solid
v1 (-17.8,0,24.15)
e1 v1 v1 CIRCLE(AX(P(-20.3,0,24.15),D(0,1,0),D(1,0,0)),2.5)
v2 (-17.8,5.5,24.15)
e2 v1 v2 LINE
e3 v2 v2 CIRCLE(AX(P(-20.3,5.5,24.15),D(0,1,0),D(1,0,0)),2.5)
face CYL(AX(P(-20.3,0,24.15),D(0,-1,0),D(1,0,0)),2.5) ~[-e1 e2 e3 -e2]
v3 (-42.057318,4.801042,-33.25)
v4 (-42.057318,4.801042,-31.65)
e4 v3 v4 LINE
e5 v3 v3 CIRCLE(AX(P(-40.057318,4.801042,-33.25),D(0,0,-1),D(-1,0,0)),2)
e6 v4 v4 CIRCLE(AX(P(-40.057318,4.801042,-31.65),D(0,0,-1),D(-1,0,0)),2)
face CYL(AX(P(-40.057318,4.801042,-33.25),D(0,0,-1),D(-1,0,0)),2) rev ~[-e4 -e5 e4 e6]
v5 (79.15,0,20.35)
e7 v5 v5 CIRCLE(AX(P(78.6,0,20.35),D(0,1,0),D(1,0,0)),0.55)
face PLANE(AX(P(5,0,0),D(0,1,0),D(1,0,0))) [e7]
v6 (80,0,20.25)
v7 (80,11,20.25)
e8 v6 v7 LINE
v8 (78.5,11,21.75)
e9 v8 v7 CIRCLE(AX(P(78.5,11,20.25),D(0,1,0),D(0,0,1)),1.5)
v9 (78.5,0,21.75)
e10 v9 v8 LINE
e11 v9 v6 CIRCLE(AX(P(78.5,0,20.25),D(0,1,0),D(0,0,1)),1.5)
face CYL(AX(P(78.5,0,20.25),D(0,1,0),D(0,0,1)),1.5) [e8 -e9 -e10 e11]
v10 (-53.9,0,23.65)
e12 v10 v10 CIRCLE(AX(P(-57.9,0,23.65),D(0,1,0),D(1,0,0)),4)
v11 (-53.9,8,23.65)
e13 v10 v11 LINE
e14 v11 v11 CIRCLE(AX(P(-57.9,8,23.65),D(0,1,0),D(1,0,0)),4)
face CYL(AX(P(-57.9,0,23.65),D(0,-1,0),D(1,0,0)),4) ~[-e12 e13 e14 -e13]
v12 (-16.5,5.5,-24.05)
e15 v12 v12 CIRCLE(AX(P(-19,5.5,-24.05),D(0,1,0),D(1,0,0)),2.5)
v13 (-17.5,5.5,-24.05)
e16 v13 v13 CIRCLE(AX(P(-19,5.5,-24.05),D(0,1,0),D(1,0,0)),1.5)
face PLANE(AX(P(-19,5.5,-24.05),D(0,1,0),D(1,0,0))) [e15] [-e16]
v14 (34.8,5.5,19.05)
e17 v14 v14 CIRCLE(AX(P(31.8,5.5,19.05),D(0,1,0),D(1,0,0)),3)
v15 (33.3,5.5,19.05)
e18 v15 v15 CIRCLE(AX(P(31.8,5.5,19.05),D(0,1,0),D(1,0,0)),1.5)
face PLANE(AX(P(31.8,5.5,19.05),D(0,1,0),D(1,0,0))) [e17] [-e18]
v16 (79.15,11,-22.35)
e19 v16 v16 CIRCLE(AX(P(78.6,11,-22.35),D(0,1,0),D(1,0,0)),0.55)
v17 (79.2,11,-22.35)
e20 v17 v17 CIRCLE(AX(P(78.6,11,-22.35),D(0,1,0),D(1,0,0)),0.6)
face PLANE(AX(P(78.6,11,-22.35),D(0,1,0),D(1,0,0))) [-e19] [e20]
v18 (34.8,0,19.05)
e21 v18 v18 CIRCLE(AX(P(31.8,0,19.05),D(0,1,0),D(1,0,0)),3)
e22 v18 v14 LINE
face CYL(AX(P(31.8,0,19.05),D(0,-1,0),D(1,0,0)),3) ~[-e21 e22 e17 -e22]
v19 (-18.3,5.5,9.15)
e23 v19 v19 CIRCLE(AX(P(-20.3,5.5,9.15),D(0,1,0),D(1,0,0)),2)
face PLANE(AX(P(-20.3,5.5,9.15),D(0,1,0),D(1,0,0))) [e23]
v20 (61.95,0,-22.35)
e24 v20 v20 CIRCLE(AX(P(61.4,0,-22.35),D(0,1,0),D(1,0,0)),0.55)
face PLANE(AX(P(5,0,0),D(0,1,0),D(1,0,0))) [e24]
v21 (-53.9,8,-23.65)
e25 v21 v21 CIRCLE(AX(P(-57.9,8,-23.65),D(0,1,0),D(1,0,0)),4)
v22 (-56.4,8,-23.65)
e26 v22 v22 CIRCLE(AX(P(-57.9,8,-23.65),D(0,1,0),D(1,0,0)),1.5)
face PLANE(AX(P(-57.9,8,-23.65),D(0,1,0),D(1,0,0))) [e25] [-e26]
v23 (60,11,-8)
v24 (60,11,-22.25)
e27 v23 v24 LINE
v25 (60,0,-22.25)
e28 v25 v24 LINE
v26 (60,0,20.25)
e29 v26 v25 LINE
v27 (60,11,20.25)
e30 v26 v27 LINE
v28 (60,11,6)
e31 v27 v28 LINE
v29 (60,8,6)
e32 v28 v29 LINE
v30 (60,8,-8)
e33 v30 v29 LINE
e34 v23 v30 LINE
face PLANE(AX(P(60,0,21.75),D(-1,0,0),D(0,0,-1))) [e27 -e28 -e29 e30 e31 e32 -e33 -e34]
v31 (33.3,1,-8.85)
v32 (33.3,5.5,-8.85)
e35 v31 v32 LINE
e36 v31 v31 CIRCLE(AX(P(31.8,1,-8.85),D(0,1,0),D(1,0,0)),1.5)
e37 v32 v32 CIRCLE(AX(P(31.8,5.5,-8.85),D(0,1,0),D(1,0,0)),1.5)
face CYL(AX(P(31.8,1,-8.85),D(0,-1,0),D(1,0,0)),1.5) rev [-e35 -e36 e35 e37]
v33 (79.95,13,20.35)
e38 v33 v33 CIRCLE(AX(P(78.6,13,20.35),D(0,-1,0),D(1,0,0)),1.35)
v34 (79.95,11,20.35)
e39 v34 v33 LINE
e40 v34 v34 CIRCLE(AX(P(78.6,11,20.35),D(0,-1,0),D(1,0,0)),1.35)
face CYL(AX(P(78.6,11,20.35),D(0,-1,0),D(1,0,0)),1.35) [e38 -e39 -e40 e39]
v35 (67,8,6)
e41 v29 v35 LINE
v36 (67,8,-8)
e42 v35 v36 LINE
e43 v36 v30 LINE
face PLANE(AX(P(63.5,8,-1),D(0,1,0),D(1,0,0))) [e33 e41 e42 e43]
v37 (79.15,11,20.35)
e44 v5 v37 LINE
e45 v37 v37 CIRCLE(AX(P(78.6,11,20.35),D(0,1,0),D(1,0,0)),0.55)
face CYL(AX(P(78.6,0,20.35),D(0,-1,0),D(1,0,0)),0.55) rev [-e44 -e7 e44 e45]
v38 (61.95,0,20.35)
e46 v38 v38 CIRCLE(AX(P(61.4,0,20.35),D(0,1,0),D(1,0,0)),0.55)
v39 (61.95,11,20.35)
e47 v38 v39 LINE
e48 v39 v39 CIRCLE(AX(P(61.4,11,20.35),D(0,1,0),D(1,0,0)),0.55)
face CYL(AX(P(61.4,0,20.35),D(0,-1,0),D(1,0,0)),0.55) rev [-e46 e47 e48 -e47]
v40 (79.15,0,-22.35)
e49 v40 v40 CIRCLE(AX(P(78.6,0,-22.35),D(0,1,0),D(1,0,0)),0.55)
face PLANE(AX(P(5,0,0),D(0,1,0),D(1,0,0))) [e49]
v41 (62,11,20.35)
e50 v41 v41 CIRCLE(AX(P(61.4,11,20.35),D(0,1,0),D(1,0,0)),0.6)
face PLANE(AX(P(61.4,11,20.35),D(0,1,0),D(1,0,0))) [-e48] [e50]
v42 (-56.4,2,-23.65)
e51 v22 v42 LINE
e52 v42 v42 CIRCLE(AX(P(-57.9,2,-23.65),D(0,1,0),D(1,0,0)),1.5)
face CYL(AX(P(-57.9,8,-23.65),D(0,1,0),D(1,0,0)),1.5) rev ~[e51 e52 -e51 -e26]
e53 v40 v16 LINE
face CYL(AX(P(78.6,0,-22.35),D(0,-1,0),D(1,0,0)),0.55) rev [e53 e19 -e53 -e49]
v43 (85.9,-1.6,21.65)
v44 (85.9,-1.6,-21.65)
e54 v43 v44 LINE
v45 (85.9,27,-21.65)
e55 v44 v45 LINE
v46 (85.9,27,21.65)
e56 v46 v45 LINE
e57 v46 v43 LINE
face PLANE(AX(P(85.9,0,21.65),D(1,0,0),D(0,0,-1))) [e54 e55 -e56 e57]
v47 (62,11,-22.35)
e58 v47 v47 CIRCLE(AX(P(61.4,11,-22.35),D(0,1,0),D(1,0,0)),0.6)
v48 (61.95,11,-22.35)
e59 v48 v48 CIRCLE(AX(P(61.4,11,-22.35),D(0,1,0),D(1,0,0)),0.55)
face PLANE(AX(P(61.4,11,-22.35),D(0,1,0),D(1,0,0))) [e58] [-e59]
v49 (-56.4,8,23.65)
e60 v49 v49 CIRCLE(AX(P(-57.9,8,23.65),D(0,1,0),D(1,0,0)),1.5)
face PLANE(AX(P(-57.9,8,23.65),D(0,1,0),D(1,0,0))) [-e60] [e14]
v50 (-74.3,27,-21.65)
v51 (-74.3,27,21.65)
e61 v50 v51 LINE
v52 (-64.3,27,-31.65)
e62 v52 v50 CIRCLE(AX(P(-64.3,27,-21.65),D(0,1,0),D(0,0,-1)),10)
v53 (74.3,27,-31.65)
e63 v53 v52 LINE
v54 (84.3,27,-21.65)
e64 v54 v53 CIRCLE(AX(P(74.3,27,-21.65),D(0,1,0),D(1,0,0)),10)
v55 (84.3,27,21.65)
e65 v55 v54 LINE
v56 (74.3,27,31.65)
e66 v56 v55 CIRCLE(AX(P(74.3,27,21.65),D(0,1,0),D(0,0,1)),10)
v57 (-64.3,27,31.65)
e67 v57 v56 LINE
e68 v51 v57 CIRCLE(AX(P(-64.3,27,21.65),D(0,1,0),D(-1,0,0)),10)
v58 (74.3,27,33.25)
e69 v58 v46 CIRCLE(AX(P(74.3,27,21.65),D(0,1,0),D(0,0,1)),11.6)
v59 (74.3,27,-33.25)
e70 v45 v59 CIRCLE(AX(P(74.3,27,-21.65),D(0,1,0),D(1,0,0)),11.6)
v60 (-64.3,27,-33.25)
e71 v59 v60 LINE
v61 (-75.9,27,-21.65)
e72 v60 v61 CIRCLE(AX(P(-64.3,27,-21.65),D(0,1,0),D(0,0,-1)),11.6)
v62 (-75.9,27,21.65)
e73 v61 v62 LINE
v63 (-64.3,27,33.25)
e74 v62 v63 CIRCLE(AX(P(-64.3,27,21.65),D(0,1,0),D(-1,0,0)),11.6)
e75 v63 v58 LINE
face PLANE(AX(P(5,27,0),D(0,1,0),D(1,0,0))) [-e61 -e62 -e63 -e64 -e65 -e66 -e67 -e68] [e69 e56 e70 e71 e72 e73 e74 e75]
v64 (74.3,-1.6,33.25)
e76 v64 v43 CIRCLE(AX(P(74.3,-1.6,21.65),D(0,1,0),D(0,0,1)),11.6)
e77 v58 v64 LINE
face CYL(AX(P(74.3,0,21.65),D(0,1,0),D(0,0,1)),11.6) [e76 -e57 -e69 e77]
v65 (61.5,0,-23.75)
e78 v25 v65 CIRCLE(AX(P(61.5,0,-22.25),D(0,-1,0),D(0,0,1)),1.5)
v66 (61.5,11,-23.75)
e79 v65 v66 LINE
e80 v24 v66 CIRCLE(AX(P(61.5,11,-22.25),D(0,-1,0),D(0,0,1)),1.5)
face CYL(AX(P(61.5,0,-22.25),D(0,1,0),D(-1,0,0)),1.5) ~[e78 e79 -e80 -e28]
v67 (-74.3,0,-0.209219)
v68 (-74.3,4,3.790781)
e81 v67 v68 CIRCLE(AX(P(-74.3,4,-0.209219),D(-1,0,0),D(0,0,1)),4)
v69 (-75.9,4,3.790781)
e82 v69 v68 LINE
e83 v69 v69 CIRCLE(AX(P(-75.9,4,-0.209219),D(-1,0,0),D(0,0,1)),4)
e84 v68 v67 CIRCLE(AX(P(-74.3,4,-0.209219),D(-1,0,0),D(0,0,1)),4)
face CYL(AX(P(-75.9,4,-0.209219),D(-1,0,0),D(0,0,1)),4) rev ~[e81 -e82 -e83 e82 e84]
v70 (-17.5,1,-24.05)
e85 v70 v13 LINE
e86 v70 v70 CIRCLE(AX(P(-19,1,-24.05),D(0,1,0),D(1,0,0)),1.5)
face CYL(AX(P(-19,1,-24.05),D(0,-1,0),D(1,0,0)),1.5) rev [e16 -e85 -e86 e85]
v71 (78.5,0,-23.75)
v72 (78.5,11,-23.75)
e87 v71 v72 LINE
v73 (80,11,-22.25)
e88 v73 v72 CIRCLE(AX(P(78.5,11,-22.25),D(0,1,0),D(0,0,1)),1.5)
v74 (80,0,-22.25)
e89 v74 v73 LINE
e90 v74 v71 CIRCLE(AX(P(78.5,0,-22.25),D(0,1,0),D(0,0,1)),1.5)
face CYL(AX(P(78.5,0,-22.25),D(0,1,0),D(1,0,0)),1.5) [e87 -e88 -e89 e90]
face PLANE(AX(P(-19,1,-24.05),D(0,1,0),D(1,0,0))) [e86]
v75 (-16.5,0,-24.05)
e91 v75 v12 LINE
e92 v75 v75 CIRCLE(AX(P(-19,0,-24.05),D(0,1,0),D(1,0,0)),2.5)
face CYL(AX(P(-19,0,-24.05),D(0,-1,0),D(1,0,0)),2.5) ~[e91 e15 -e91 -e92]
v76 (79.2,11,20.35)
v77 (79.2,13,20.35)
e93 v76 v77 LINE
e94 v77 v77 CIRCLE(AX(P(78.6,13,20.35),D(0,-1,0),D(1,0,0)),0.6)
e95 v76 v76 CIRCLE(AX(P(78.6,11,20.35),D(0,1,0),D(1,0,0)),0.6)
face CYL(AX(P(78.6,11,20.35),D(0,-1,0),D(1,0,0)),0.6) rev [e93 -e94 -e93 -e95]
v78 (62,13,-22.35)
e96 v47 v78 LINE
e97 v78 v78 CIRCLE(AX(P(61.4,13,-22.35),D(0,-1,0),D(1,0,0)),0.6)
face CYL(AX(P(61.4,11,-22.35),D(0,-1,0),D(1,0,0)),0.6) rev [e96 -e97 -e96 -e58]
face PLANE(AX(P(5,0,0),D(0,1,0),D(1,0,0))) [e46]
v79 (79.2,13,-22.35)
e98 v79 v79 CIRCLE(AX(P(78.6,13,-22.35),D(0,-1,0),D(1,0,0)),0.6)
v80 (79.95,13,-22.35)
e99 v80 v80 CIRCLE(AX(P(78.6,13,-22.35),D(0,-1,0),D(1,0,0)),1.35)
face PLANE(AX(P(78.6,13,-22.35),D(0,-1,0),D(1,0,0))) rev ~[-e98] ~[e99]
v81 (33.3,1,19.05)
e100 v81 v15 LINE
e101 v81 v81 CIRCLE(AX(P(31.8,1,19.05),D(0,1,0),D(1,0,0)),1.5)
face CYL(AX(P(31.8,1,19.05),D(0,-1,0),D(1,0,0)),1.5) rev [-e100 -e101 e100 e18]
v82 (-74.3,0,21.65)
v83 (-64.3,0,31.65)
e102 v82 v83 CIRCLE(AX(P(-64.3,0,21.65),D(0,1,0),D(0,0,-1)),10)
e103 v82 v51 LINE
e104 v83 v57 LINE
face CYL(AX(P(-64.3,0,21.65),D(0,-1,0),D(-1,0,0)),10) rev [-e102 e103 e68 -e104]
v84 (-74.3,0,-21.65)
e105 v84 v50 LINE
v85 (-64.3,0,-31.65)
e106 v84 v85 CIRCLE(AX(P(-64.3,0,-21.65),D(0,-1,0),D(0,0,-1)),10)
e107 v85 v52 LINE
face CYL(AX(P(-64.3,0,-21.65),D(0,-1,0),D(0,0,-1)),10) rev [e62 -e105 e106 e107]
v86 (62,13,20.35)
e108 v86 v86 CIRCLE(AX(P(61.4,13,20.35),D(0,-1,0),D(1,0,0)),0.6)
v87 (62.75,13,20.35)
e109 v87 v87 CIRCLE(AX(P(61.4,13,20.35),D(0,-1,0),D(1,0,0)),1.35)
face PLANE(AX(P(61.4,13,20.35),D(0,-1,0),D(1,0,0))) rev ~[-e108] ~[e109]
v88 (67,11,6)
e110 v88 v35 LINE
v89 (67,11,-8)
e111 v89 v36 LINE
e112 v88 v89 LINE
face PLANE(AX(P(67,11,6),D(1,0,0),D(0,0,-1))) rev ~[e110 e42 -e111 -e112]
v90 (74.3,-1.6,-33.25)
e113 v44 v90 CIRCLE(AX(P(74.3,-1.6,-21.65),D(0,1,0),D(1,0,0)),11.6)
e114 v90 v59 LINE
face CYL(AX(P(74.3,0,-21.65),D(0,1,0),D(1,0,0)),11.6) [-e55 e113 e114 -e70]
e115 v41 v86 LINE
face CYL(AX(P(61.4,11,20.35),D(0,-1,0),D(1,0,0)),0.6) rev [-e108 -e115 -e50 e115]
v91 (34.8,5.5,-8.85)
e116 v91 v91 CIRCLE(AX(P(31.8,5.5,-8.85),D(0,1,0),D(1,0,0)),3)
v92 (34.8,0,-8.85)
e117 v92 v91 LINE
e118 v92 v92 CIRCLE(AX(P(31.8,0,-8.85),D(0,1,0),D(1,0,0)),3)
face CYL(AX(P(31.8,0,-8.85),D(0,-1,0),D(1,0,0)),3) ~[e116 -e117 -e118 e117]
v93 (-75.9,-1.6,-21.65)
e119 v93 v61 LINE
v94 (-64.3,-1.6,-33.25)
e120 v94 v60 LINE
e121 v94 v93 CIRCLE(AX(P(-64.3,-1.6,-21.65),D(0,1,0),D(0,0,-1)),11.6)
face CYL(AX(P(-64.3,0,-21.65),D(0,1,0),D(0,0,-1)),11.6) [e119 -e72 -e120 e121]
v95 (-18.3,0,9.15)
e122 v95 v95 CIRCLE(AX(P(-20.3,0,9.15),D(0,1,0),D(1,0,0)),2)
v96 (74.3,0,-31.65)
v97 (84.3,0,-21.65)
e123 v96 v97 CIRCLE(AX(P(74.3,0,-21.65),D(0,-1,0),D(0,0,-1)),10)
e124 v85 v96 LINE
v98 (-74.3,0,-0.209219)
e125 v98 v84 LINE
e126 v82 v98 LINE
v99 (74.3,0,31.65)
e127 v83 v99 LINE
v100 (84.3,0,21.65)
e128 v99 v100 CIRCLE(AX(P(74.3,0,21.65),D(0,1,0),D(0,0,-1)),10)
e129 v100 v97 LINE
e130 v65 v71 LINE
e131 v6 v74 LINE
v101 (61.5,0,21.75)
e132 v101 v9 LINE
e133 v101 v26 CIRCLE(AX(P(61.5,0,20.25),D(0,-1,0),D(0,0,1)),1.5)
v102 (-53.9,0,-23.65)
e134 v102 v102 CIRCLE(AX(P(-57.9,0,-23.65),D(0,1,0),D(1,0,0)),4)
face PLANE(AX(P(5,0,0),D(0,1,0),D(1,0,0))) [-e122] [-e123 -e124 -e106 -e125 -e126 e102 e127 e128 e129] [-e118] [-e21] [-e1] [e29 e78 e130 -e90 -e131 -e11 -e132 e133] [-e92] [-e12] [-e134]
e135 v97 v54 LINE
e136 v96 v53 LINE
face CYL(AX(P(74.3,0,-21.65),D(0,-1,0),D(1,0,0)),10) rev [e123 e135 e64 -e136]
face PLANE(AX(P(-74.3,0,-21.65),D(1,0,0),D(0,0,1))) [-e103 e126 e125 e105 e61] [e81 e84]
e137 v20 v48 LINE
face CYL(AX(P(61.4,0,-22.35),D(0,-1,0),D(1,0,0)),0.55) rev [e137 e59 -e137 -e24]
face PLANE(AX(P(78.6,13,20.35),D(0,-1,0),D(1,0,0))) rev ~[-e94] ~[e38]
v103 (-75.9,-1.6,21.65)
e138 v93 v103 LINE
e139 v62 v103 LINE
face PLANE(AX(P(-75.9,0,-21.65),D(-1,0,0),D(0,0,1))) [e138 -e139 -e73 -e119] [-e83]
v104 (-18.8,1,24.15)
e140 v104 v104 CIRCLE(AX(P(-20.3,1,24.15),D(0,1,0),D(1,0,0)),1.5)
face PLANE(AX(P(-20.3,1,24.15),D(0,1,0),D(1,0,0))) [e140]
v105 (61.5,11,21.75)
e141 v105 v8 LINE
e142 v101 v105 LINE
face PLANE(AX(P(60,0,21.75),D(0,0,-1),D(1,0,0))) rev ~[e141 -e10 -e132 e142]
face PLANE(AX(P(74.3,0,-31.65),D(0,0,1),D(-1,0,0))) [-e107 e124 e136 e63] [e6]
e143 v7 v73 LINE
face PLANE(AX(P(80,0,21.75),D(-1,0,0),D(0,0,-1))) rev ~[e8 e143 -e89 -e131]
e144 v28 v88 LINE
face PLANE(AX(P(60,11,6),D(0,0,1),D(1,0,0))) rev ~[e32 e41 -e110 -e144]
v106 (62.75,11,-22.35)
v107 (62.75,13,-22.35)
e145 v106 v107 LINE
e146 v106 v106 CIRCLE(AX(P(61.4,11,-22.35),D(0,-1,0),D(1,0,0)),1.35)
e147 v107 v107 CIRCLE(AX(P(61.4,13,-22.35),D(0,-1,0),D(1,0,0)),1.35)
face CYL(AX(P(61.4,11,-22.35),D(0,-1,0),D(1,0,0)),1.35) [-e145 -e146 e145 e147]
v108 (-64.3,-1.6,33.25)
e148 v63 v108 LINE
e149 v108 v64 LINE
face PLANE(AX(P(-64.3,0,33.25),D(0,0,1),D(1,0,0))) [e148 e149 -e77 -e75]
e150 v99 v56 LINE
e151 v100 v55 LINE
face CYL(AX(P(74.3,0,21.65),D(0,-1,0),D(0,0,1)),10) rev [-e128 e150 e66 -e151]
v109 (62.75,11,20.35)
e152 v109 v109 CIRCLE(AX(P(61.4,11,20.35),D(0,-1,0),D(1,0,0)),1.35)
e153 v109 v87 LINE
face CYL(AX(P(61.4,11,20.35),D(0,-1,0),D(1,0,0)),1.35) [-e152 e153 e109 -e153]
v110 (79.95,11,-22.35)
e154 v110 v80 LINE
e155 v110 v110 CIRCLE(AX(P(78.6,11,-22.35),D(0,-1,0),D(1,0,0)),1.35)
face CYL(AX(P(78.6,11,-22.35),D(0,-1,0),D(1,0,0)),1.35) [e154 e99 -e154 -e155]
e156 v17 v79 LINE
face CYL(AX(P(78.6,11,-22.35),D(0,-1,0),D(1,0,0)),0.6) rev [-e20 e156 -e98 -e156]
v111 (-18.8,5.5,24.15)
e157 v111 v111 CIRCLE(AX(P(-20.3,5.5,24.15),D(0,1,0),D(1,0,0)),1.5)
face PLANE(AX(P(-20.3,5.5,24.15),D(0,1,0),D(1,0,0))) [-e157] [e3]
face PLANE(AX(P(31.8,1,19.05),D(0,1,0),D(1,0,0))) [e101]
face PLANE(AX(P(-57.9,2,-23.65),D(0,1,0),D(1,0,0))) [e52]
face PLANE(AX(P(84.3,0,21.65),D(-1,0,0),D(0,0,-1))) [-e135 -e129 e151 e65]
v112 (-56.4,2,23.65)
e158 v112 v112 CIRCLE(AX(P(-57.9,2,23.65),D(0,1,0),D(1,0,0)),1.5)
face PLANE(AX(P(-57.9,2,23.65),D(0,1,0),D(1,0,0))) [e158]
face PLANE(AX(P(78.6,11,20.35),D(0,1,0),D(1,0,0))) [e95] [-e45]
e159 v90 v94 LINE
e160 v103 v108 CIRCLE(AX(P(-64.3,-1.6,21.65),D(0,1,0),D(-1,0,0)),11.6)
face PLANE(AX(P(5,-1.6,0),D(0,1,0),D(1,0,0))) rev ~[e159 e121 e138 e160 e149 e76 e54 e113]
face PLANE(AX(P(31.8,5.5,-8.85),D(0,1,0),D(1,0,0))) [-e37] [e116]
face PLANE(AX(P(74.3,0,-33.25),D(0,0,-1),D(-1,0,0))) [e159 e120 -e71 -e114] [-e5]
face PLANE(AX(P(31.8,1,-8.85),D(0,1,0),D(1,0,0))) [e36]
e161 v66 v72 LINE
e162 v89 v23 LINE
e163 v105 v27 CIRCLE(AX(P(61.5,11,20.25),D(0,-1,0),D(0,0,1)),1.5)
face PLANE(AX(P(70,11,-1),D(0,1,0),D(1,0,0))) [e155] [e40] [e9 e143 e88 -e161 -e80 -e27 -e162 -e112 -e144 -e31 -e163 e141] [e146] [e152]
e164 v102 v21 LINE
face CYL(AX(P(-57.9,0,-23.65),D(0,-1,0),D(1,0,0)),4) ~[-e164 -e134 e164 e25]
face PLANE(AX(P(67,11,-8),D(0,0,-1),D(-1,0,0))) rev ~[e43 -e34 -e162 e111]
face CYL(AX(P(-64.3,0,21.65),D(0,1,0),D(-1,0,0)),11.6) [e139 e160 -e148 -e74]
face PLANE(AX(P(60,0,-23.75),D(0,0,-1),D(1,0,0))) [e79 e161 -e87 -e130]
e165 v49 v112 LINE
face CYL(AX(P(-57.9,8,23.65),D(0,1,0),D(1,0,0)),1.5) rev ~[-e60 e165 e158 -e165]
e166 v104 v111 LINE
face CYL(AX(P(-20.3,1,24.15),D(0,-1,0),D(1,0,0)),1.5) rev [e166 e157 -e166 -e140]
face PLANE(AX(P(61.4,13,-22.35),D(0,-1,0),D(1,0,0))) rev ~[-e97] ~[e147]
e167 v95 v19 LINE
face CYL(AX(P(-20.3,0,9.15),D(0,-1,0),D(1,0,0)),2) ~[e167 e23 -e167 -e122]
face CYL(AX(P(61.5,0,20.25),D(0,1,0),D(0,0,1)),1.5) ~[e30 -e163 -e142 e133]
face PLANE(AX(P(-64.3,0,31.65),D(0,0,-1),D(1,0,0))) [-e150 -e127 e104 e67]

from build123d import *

# Parameters (mm, degrees)
SKETCH5_W                        = 20
SKETCH5_H                        = 45.5
SKETCH5_R                        = 0.55
ULTRASONIC_TRANSDUCER_BASE_DEPTH = 11
ULTRASONIC_PINS_CUTAWAY_DEPTH    = 3
STANDOFF_PROFILE_R               = 1.35
ULTRASONIC_STANDOFFS_DEPTH       = 2
ENCLOSURE_OUTER_LIMIT_W          = 158.6
ENCLOSURE_OUTER_LIMIT_H          = 63.3
ENCLOSURE_BASE_DEPTH             = 1.6
ENCLOSURE_FILLET_R               = 10
SKETCH9_R                        = 2.5
SKETCH9_R_2                      = 3
SKETCH9_R_3                      = 2
UNO_STANDOFFS_DEPTH              = 5.5
UNO_START                        = 1
SKETCH11_R                       = 1.5
UNO_STANDOFF_SCREW_HOLES_DEPTH   = 4.5
ENCLOSURE_WALL_DEPTH             = 27
ENCLOSURE_WALL_DEPTH_BACK        = 1.6
SKETCH13_R                       = 4
LED_RING_CABLE_HOLE_DEPTH        = 1.6
SKETCH14_R                       = 4
BUS_SCREW_POSTS_DEPTH            = 8
SKETCH15_R                       = 1.5
BUS_SCREW_HOLES_DEPTH            = 6
SKETCH16_R                       = 2
POWER_CORD_HOLE_DEPTH            = 1.6
FILLET1_R                        = 1.5
SKETCH6_R                        = 0.6
CUT_PIN_HOLES_DEPTH              = 10


with BuildPart() as part:
    # Sketch5 → Ultrasonic Transducer Base (new body)
    with BuildSketch(Plane(origin=(0, 0, 0), x_dir=(1, 0, 0), z_dir=(0, 1, 0))):
        with Locations((70, 1)):
            Rectangle(SKETCH5_W, SKETCH5_H)
        with Locations((61.4, 22.35)):
            Circle(SKETCH5_R, mode=Mode.SUBTRACT)
        with Locations((78.6, 22.35)):
            Circle(SKETCH5_R, mode=Mode.SUBTRACT)
        with Locations((78.6, -20.35)):
            Circle(SKETCH5_R, mode=Mode.SUBTRACT)
        with Locations((61.4, -20.35)):
            Circle(SKETCH5_R, mode=Mode.SUBTRACT)
    extrude(amount=ULTRASONIC_TRANSDUCER_BASE_DEPTH)

    # Sketch8 → Ultrasonic Pins Cutaway (cut)
    with BuildSketch(Plane(origin=(0, 11, 0), x_dir=(1, 0, 0), z_dir=(0, 1, 0))):
        Polygon((60, 1), (60, -6), (67, -6), (67, 8), (60, 8), align=None)
    extrude(amount=-ULTRASONIC_PINS_CUTAWAY_DEPTH, mode=Mode.SUBTRACT)

    # Standoff Profile → Ultrasonic Standoffs (add)
    with BuildSketch(Plane.XZ.offset(-11)):
        with Locations((61.4, 20.35)):
            Circle(STANDOFF_PROFILE_R)
        with Locations((78.6, 20.35)):
            Circle(STANDOFF_PROFILE_R)
        with Locations((61.4, -22.35)):
            Circle(STANDOFF_PROFILE_R)
        with Locations((78.6, -22.35)):
            Circle(STANDOFF_PROFILE_R)
    extrude(amount=-ULTRASONIC_STANDOFFS_DEPTH)

    # Enclosure Outer Limit → Enclosure Base (add)
    with BuildSketch(Plane(origin=(0, 0, 0), x_dir=(1, 0, 0), z_dir=(0, 1, 0))):
        with Locations((5, 0)):
            Rectangle(ENCLOSURE_OUTER_LIMIT_W, ENCLOSURE_OUTER_LIMIT_H)
    extrude(amount=-ENCLOSURE_BASE_DEPTH)

    # Enclosure Fillet
    enclosure_fillet_edges = [part.edges().sort_by_distance(p)[0] for p in [
        (-74.3, -0.8, -31.65),
        (84.3, -0.8, -31.65),
        (84.3, -0.8, 31.65),
        (-74.3, -0.8, 31.65),
    ]]
    fillet(enclosure_fillet_edges, radius=ENCLOSURE_FILLET_R)

    # Sketch9 → Uno Standoffs (add)
    with BuildSketch(Plane(origin=(0, 0, 0), x_dir=(1, 0, 0), z_dir=(0, 1, 0))):
        with Locations((-19, 24.05)):
            Circle(SKETCH9_R)
        with Locations((31.8, 8.85)):
            Circle(SKETCH9_R_2)
        with Locations((31.8, -19.05)):
            Circle(SKETCH9_R_2)
        with Locations((-20.3, -24.15)):
            Circle(SKETCH9_R)
        with Locations((-20.3, -9.15)):
            Circle(SKETCH9_R_3)
    extrude(amount=UNO_STANDOFFS_DEPTH)

    # Sketch11 → Uno Standoff Screw Holes (cut)
    with BuildSketch(Plane(origin=(0, 0, 0), x_dir=(1, 0, 0), z_dir=(0, 1, 0)).offset(UNO_START)):
        with Locations((-19, 24.05)):
            Circle(SKETCH11_R)
        with Locations((31.8, 8.85)):
            Circle(SKETCH11_R)
        with Locations((31.8, -19.05)):
            Circle(SKETCH11_R)
        with Locations((-20.3, -24.15)):
            Circle(SKETCH11_R)
    extrude(amount=UNO_STANDOFF_SCREW_HOLES_DEPTH, mode=Mode.SUBTRACT)

    # Sketch12 → Enclosure Wall (add, two sides)
    with BuildSketch(Plane(origin=(0, 0, 0), x_dir=(1, 0, 0), z_dir=(0, 1, 0))) as enclosure_wall_sk:
        with BuildLine():
            Line((85.9, -21.65), (85.9, 21.65))
            ThreePointArc((85.9, 21.65), (82.502438662, 29.852438662), (74.3, 33.25))
            Line((74.3, 33.25), (-64.3, 33.25))
            ThreePointArc((-64.3, 33.25), (-72.502438662, 29.852438662), (-75.9, 21.65))
            Line((-75.9, 21.65), (-75.9, -21.65))
            ThreePointArc((-75.9, -21.65), (-72.502438662, -29.852438662), (-64.3, -33.25))
            Line((-64.3, -33.25), (74.3, -33.25))
            ThreePointArc((74.3, -33.25), (82.502438662, -29.852438662), (85.9, -21.65))
        make_face()
        with BuildLine():
            Line((84.3, -21.65), (84.3, 21.65))
            ThreePointArc((84.3, 21.65), (81.371067812, 28.721067812), (74.3, 31.65))
            Line((74.3, 31.65), (-64.3, 31.65))
            ThreePointArc((-64.3, 31.65), (-71.371067812, 28.721067812), (-74.3, 21.65))
            Line((-74.3, 21.65), (-74.3, -21.65))
            ThreePointArc((-74.3, -21.65), (-71.371067812, -28.721067812), (-64.3, -31.65))
            Line((-64.3, -31.65), (74.3, -31.65))
            ThreePointArc((74.3, -31.65), (81.371067812, -28.721067812), (84.3, -21.65))
        make_face(mode=Mode.SUBTRACT)
    extrude(amount=ENCLOSURE_WALL_DEPTH)
    extrude(enclosure_wall_sk.sketch, amount=-ENCLOSURE_WALL_DEPTH_BACK)

    # Sketch13 → LED Ring Cable Hole (cut)
    with BuildSketch(Plane.ZY.offset(75.9)):
        with Locations((-0.209219048, 4)):
            Circle(SKETCH13_R)
    extrude(amount=-LED_RING_CABLE_HOLE_DEPTH, mode=Mode.SUBTRACT)

    # Sketch14 → Bus Screw Posts (add)
    with BuildSketch(Plane(origin=(0, 0, 0), x_dir=(1, 0, 0), z_dir=(0, 1, 0))):
        with Locations((-57.9, 23.65)):
            Circle(SKETCH14_R)
        with Locations((-57.9, -23.65)):
            Circle(SKETCH14_R)
    extrude(amount=BUS_SCREW_POSTS_DEPTH)

    # Sketch15 → Bus Screw Holes (cut)
    with BuildSketch(Plane(origin=(0, 8, 0), x_dir=(1, 0, 0), z_dir=(0, 1, 0))):
        with Locations((-57.9, 23.65)):
            Circle(SKETCH15_R)
        with Locations((-57.9, -23.65)):
            Circle(SKETCH15_R)
    extrude(amount=-BUS_SCREW_HOLES_DEPTH, mode=Mode.SUBTRACT)

    # Sketch16 → Power Cord Hole (cut)
    with BuildSketch(Plane(origin=(0, 0, -33.25), x_dir=(-1, 0, 0), z_dir=(0, 0, -1))):
        with Locations((40.05731821, 4.801042168)):
            Circle(SKETCH16_R)
    extrude(amount=-POWER_CORD_HOLE_DEPTH, mode=Mode.SUBTRACT)

    # Fillet1
    fillet1_edges = [part.edges().sort_by_distance(p)[0] for p in [
        (80, 5.5, 21.75),
        (60, 5.5, 21.75),
        (60, 5.5, -23.75),
        (80, 5.5, -23.75),
    ]]
    fillet(fillet1_edges, radius=FILLET1_R)

    # Sketch6 → Cut Pin Holes (cut)
    with BuildSketch(Plane(origin=(0, 11, 0), x_dir=(1, 0, 0), z_dir=(0, 1, 0))):
        with Locations((61.4, 22.35)):
            Circle(SKETCH6_R)
        with Locations((78.6, 22.35)):
            Circle(SKETCH6_R)
        with Locations((78.6, -20.35)):
            Circle(SKETCH6_R)
        with Locations((61.4, -20.35)):
            Circle(SKETCH6_R)
    extrude(amount=CUT_PIN_HOLES_DEPTH, mode=Mode.SUBTRACT)


solid = part.part
